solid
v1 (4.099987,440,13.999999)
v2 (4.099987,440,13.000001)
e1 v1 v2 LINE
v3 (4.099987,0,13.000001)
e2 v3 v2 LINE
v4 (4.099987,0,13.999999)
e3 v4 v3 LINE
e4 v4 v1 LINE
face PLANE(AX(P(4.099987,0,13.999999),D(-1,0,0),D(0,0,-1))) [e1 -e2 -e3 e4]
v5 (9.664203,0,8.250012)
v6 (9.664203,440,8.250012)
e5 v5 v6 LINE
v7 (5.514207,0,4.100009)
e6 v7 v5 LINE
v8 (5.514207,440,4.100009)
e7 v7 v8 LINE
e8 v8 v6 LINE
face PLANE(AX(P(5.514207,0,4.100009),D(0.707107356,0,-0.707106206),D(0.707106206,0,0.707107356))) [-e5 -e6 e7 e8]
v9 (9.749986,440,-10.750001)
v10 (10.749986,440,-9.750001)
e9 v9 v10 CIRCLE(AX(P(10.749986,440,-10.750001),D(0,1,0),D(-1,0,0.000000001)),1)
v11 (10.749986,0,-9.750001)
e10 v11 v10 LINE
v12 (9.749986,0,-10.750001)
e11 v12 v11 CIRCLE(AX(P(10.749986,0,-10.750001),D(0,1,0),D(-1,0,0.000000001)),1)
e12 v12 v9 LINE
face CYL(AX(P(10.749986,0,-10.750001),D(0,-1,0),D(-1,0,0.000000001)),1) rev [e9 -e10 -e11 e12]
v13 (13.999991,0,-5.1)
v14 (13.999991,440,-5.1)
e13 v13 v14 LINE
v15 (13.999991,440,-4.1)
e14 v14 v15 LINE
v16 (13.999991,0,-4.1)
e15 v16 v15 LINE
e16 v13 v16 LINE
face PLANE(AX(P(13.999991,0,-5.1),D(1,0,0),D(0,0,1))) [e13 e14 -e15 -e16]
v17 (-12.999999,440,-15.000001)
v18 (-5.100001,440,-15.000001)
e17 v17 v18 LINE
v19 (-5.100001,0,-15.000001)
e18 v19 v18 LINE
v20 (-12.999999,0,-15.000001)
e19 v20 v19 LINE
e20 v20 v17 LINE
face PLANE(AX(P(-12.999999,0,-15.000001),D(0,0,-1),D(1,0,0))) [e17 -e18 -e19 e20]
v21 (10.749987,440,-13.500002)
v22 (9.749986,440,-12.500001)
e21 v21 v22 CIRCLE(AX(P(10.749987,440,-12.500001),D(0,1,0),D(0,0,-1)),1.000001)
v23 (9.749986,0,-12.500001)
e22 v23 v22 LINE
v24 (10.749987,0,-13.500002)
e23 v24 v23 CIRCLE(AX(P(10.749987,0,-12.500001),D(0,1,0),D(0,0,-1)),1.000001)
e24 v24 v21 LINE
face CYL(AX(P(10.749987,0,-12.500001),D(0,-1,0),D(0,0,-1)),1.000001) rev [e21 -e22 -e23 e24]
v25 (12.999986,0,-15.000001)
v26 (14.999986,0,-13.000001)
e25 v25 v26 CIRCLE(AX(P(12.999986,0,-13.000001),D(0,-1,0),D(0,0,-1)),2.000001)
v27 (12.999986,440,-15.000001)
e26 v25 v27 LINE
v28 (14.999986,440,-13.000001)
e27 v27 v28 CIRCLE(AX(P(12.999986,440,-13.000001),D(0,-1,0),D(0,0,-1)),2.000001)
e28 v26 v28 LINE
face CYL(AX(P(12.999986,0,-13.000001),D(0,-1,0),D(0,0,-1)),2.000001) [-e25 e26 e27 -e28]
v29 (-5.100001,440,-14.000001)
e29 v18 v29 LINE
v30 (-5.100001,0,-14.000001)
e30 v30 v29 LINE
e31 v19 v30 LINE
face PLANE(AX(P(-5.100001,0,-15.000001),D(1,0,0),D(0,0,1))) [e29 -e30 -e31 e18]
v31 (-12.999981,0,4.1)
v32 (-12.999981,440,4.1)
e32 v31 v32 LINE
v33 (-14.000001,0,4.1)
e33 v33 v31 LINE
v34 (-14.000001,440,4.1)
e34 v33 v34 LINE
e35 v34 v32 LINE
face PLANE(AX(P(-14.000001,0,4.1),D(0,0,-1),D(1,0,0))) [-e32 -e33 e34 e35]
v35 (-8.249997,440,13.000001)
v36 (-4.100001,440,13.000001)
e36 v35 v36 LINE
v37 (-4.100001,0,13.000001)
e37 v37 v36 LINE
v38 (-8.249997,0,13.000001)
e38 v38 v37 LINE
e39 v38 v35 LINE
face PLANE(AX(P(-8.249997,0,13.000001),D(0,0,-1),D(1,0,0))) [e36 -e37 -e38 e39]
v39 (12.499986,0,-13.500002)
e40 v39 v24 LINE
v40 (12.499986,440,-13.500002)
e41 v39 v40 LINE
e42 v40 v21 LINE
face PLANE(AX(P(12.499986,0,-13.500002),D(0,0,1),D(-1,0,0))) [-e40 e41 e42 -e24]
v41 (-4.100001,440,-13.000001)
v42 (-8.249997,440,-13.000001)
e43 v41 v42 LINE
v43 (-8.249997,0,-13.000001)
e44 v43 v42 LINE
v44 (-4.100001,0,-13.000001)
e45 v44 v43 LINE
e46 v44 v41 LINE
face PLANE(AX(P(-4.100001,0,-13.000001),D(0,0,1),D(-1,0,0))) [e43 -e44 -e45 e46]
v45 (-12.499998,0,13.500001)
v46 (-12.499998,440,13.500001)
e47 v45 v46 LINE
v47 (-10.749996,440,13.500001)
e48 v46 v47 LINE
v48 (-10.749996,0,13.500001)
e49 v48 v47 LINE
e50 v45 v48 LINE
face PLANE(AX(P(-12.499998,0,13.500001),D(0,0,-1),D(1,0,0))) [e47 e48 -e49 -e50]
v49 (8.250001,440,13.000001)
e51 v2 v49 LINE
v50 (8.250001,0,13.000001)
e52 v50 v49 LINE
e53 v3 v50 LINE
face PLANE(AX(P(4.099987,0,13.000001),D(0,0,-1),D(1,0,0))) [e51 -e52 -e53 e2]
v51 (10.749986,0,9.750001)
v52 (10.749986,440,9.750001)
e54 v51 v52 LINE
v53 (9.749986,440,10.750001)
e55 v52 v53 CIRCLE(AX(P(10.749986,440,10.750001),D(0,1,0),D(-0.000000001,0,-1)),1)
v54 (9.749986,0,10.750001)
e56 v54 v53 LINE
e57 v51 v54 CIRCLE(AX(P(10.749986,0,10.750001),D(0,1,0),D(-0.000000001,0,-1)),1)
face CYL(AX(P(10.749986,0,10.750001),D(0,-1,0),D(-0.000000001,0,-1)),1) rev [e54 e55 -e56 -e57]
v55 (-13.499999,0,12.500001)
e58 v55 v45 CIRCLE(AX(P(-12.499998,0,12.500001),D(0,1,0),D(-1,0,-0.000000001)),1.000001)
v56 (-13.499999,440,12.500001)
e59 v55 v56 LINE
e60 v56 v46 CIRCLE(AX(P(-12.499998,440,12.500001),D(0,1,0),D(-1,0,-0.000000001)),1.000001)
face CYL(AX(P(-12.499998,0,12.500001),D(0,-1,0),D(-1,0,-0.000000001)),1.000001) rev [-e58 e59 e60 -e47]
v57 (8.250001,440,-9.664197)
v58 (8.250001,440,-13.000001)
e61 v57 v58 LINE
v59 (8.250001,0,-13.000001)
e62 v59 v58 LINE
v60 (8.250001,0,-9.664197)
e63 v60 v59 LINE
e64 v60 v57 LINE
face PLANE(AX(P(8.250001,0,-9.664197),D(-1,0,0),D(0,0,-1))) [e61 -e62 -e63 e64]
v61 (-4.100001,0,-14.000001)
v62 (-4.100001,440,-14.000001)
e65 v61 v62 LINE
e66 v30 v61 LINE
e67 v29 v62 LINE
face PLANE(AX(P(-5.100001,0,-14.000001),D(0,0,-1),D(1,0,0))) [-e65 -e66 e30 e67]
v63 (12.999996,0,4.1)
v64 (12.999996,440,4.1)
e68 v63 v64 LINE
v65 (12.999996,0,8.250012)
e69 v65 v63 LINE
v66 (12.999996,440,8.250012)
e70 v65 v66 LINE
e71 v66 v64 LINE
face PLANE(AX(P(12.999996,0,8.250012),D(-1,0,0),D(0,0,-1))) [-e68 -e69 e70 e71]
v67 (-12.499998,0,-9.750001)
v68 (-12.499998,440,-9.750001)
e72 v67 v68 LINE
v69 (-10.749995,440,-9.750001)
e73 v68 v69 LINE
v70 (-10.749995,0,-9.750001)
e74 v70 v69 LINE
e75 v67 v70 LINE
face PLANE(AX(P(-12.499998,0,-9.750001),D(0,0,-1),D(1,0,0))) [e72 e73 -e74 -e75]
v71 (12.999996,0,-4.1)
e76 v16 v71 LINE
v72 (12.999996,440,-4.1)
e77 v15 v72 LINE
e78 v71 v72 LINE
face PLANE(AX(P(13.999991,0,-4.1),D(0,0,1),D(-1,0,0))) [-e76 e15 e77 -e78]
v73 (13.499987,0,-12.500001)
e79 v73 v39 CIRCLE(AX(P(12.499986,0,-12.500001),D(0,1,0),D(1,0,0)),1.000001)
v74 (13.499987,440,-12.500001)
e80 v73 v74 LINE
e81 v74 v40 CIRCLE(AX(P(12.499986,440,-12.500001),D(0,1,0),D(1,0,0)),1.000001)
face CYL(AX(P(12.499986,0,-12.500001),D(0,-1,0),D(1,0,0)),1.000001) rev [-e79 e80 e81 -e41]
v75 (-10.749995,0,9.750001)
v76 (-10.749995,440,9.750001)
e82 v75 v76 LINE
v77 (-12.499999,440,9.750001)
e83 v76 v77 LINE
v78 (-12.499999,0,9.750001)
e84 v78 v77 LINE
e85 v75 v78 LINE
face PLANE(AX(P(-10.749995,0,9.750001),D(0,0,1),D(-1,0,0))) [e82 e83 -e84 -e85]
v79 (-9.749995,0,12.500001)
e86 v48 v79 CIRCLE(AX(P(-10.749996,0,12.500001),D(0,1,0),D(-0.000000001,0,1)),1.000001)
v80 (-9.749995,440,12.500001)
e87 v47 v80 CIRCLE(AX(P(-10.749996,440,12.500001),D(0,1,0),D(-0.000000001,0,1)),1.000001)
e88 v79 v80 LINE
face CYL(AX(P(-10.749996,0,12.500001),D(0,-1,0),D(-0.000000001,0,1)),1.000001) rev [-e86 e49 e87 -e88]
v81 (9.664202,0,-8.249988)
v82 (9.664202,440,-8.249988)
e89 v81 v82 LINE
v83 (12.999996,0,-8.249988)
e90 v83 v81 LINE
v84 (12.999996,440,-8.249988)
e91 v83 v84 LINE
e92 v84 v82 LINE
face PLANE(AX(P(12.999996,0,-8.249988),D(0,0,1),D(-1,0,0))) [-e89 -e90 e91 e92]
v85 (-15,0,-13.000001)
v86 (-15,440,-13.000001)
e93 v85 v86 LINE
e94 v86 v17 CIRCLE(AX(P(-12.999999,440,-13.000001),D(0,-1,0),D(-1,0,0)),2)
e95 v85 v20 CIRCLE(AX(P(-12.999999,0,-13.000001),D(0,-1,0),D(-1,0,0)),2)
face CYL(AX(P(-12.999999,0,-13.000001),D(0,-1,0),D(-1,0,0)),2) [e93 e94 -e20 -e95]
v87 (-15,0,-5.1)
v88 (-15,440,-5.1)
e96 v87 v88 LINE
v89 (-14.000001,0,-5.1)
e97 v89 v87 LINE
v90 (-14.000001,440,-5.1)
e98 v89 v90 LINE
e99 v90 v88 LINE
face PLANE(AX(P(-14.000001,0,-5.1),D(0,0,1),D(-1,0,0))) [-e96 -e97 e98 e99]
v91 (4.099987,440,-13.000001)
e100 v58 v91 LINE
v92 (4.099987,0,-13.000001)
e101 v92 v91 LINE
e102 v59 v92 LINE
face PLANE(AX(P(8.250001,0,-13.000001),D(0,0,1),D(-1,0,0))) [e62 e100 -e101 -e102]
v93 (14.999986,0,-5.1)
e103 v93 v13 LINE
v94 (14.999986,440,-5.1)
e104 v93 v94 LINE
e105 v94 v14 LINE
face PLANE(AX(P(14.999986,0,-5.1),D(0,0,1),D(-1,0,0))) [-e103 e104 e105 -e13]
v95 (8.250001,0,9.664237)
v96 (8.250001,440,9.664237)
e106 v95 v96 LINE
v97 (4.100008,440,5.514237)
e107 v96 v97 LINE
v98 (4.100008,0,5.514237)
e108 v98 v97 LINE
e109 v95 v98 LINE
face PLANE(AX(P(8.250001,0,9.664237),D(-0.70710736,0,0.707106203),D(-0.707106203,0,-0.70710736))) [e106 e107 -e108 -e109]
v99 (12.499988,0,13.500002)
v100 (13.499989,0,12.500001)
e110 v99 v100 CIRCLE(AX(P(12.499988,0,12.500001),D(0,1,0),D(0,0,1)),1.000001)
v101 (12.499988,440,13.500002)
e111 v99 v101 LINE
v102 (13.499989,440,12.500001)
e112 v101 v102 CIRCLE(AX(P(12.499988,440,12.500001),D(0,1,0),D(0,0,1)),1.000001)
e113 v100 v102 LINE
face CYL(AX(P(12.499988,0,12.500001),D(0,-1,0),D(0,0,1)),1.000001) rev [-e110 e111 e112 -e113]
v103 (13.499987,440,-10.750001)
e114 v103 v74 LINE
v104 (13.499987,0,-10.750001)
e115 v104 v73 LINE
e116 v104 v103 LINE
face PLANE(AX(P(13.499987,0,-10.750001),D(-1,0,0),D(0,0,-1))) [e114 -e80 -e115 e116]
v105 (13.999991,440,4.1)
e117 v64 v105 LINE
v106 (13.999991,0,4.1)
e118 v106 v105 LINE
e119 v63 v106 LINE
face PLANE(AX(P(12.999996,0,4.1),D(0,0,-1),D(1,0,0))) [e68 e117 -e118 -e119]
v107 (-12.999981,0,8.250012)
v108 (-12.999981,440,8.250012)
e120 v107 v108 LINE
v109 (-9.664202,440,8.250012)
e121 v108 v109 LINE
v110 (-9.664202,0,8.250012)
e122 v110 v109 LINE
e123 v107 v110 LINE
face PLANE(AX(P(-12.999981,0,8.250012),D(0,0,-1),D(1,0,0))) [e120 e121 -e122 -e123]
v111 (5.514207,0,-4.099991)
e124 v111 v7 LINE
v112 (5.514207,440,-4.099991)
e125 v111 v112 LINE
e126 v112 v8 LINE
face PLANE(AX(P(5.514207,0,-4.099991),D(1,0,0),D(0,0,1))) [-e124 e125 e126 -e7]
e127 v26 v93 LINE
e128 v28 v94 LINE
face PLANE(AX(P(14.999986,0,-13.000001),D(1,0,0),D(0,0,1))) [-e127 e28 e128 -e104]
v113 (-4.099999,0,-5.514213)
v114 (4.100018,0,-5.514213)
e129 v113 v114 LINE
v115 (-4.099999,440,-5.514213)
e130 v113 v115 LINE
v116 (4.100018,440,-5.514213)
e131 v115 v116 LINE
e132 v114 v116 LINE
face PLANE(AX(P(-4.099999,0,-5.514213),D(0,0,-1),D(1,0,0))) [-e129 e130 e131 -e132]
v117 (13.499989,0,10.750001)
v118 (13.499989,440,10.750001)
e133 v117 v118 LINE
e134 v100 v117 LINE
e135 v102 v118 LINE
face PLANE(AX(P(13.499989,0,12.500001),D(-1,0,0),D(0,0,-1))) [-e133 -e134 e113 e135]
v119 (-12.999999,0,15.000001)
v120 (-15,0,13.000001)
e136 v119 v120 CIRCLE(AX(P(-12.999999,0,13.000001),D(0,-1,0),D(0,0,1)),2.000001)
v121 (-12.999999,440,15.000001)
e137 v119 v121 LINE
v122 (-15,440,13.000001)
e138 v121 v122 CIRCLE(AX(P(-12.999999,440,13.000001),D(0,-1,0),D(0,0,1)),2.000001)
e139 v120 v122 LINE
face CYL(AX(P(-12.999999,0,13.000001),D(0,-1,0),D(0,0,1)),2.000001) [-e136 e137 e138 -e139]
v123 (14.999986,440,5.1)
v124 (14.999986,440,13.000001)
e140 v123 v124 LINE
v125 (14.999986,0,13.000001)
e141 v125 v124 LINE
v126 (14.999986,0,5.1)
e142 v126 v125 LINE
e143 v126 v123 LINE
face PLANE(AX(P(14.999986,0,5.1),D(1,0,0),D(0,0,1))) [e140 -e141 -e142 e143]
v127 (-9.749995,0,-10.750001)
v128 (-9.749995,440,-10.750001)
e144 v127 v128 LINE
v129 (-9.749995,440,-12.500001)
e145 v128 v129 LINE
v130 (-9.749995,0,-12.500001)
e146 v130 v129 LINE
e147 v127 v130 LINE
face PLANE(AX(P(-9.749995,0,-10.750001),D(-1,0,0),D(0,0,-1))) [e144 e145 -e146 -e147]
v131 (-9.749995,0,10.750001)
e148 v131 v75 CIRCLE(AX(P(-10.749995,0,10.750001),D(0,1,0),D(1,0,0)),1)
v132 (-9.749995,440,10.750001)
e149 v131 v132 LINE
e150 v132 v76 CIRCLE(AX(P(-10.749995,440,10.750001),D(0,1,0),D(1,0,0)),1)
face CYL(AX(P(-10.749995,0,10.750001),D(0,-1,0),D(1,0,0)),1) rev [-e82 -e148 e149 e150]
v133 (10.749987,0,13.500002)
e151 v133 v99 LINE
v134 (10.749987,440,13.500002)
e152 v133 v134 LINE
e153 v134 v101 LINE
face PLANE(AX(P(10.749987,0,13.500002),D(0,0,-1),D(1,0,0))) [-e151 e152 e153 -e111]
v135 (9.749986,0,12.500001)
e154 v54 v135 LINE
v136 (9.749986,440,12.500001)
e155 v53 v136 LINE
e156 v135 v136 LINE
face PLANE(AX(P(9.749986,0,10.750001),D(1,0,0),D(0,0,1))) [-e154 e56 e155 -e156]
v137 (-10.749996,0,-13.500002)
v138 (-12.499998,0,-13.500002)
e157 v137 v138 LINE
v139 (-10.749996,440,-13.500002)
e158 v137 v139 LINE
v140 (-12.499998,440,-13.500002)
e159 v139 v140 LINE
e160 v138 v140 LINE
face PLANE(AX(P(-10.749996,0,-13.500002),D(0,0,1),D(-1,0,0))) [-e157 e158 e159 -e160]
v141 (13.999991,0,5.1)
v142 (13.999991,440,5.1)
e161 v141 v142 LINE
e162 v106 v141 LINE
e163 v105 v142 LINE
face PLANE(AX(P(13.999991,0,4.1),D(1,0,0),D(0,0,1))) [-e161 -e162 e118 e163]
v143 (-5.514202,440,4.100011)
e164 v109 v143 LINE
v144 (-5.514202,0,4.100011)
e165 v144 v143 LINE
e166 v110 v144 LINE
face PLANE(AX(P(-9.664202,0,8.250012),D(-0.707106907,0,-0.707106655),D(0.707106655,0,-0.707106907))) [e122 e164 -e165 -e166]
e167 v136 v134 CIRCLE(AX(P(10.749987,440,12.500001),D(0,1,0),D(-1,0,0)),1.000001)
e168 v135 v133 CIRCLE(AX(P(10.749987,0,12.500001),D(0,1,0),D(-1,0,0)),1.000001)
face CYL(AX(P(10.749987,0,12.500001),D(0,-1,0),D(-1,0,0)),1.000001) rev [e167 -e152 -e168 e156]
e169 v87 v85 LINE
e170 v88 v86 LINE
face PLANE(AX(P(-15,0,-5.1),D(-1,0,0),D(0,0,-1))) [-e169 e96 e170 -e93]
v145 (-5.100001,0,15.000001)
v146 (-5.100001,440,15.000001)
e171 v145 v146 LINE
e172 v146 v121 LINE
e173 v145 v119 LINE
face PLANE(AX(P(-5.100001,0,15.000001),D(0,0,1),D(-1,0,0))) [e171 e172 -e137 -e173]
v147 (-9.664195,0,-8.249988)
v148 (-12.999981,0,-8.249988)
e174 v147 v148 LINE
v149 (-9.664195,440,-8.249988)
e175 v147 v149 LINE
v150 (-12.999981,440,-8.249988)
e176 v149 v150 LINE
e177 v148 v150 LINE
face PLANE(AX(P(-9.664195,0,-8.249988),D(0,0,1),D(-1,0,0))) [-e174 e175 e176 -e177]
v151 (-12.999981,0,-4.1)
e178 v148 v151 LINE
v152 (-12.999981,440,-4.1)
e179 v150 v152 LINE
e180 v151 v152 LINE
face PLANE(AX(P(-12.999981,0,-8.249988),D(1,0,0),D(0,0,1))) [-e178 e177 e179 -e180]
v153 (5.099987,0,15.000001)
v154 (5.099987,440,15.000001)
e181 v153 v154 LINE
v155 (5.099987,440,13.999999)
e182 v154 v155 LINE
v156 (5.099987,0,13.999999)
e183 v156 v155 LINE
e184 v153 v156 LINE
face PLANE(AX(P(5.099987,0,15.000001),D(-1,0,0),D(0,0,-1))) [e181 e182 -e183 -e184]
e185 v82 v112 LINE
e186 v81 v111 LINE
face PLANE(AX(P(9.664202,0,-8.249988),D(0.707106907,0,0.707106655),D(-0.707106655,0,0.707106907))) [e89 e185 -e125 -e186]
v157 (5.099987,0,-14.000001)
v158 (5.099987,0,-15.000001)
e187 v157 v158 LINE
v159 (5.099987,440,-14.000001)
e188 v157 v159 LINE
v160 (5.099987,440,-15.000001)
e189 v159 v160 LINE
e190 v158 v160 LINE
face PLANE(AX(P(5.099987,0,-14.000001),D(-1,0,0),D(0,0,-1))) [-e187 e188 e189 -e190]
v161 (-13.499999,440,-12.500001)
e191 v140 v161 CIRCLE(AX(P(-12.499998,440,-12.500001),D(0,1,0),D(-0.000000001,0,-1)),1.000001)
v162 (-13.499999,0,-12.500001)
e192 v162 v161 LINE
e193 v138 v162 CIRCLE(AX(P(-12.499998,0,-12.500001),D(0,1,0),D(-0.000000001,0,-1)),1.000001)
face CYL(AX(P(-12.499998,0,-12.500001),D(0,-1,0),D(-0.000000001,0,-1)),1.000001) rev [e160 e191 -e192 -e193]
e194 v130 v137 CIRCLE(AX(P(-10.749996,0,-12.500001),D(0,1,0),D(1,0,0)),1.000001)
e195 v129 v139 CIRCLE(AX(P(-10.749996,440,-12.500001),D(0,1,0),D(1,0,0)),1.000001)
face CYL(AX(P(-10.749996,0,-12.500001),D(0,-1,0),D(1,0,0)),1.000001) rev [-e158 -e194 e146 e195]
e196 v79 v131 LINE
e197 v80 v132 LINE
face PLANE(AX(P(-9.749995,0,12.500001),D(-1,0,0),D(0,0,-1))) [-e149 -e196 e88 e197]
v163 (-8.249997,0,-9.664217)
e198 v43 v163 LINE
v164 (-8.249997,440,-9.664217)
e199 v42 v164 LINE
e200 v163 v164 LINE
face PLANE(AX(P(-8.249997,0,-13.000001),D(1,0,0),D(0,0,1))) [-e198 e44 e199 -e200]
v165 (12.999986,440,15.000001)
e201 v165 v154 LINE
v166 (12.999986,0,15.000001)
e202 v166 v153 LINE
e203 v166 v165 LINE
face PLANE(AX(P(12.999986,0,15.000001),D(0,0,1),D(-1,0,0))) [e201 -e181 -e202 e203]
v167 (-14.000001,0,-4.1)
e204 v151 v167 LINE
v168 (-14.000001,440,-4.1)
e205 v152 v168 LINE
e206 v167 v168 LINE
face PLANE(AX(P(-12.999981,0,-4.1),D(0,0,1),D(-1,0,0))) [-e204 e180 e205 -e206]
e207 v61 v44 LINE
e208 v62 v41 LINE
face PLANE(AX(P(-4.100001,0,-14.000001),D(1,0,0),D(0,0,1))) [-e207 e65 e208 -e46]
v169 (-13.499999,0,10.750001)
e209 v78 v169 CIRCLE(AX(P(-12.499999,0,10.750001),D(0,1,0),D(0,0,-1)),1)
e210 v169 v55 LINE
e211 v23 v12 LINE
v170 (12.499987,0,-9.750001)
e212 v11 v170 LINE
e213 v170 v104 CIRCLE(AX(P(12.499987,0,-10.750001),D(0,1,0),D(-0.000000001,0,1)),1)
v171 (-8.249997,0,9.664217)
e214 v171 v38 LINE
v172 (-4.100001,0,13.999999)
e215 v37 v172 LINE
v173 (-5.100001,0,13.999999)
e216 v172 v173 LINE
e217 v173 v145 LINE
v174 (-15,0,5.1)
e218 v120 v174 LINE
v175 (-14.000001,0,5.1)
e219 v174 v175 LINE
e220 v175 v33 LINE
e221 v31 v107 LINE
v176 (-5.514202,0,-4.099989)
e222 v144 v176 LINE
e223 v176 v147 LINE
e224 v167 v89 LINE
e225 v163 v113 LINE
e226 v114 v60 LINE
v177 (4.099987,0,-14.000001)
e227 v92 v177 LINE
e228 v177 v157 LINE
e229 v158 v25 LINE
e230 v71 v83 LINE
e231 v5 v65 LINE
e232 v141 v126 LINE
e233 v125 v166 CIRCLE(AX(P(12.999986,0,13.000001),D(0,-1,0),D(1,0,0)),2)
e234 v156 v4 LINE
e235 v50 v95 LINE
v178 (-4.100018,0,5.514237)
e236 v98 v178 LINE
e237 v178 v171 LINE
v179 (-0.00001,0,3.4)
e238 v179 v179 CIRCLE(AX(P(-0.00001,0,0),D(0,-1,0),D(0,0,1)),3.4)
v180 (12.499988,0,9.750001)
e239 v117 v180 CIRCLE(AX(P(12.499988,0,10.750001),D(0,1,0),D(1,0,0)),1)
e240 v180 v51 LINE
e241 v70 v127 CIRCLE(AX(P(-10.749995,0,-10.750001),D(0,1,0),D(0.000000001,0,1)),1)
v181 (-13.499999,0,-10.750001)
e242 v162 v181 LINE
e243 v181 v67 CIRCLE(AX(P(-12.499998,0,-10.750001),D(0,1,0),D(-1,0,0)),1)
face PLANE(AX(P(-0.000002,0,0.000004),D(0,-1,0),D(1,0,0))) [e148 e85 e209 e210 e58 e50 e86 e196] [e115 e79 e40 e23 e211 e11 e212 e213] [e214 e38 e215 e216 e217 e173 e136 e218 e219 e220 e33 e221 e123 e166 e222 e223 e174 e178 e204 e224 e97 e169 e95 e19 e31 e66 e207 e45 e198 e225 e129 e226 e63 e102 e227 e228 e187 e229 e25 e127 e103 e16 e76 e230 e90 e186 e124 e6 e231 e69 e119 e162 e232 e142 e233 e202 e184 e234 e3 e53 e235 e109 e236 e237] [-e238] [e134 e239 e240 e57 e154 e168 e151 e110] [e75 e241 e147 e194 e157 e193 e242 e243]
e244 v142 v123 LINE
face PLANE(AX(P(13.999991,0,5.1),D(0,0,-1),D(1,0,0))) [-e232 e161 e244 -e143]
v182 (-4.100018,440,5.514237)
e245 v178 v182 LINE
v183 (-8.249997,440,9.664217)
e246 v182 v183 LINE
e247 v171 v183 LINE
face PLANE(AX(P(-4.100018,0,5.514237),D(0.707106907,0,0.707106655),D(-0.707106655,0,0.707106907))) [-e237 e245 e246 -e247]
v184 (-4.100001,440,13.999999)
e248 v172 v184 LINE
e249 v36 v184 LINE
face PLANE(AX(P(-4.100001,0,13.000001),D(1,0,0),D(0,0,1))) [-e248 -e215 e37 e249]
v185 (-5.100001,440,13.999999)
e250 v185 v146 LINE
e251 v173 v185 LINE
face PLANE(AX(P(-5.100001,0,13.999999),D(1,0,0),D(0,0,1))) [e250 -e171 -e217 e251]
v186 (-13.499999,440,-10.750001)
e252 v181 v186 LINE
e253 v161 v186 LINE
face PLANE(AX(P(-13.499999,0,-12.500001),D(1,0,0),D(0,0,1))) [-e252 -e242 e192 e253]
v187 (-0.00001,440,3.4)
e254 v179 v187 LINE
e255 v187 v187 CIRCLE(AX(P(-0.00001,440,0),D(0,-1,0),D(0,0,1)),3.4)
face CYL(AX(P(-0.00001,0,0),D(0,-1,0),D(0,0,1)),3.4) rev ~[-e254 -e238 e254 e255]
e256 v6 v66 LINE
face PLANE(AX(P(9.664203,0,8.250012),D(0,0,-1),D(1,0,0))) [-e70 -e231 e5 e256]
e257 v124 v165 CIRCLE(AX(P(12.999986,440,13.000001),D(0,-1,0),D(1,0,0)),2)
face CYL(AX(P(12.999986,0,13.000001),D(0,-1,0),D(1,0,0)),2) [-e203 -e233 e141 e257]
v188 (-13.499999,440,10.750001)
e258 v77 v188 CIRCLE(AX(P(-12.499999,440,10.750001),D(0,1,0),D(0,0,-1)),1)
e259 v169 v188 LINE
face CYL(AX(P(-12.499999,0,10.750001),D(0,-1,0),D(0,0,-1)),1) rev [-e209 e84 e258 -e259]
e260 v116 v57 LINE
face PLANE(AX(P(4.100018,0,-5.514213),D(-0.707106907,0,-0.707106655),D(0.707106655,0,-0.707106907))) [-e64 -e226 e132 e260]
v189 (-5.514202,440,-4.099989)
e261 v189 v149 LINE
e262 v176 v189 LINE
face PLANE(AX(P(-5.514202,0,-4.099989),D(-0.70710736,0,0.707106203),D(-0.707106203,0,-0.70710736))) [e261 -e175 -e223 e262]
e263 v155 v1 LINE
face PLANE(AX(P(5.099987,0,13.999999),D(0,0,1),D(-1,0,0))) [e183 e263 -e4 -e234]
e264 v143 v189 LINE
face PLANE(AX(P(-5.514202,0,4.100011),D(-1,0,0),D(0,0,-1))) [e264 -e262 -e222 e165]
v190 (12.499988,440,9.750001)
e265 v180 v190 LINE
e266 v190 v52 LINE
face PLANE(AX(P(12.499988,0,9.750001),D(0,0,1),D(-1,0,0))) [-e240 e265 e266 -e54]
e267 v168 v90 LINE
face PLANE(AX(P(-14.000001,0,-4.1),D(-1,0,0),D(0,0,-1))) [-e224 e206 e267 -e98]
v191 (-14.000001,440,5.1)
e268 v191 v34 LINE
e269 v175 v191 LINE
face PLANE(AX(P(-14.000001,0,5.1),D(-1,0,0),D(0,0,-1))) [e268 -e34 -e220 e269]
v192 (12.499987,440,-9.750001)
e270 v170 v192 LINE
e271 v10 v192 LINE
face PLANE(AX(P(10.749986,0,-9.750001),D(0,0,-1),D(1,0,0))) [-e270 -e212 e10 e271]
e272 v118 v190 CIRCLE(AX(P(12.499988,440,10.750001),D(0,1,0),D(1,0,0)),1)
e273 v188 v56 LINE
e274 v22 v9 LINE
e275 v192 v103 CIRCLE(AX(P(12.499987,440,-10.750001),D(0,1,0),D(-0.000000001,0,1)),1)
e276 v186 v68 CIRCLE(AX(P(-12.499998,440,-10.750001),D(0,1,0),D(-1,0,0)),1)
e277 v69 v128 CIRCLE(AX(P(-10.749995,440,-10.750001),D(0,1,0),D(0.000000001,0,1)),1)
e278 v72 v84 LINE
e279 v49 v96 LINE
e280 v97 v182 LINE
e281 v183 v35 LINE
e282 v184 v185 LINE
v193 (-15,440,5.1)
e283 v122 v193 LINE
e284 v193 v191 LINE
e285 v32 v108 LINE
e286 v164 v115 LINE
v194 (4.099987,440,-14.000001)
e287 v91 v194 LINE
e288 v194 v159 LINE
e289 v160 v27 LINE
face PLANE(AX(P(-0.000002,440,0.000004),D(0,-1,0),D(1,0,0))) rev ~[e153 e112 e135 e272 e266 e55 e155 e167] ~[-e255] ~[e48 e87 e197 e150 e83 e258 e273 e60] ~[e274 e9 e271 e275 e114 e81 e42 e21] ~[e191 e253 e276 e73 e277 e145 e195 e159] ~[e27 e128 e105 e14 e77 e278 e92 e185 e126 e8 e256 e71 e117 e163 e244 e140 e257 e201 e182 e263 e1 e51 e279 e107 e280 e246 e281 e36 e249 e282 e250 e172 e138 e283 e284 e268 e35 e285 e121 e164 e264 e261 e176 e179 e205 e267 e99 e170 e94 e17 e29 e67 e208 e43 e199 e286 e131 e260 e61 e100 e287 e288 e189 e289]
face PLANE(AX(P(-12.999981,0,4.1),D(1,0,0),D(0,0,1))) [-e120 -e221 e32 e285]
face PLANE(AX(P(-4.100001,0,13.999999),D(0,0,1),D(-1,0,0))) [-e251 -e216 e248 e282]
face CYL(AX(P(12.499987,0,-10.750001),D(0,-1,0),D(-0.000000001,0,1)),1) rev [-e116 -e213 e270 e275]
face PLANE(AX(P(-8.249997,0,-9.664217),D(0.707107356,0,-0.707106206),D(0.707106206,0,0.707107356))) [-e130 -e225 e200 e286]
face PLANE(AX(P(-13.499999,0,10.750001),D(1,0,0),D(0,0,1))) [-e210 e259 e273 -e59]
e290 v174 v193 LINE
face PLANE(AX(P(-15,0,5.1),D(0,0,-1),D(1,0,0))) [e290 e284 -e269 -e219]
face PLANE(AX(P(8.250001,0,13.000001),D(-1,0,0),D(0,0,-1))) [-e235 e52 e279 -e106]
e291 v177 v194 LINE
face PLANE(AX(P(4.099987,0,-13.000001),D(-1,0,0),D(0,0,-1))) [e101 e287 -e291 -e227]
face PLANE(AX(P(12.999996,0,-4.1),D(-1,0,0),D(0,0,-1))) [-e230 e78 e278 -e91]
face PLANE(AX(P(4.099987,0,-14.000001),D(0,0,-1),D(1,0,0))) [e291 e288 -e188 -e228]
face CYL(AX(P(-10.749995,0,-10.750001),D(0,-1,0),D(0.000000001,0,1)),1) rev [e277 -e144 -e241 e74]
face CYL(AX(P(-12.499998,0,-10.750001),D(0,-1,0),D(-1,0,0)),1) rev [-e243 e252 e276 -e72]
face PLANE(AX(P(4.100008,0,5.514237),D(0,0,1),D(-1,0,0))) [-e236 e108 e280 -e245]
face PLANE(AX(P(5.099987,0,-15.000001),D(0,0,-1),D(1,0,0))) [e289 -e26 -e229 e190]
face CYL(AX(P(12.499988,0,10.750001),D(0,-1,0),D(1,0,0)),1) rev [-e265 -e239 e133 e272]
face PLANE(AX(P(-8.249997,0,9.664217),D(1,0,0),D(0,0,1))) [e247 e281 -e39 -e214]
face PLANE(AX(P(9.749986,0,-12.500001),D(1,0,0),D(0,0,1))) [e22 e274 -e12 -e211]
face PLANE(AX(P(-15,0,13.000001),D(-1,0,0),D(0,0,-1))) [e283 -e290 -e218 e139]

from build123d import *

# Parameters (mm, degrees)
SKETCH1_R           = 3.4
BOSS_EXTRUDE1_DEPTH = 440


with BuildPart() as part:
    # Sketch1 → Boss-Extrude1 (new body)
    with BuildSketch(Plane.XZ):
        with BuildLine():
            Line((-8.24999678, 13.000000511), (-4.100001047, 13.000000511))
            Line((-4.100001047, 13.000000511), (-4.100001047, 13.9999993))
            Line((-4.100001047, 13.9999993), (-5.100001047, 13.9999993))
            Line((-5.100001047, 13.9999993), (-5.100001047, 15.000001161))
            Line((-5.100001047, 15.000001161), (-12.9999991, 15.000001161))
            ThreePointArc((-12.9999991, 15.000001161), (-14.414213082, 14.414214549), (-14.999999693, 13.000000567))
            Line((-14.999999693, 13.000000567), (-14.999999693, 5.099999792))
            Line((-14.999999693, 5.099999792), (-14.000001367, 5.099999792))
            Line((-14.000001367, 5.099999792), (-14.000001367, 4.099999792))
            Line((-14.000001367, 4.099999792), (-12.999980958, 4.099999792))
            Line((-12.999980958, 4.099999792), (-12.999980958, 8.250012005))
            Line((-12.999980958, 8.250012005), (-9.664201657, 8.250012005))
            Line((-9.664201657, 8.250012005), (-5.514202303, 4.100011174))
            Line((-5.514202303, 4.100011174), (-5.514202303, -4.099988826))
            Line((-5.514202303, -4.099988826), (-9.664194622, -8.249987936))
            Line((-9.664194622, -8.249987936), (-12.999980958, -8.249987936))
            Line((-12.999980958, -8.249987936), (-12.999980958, -4.100000208))
            Line((-12.999980958, -4.100000208), (-14.000001367, -4.100000208))
            Line((-14.000001367, -4.100000208), (-14.000001367, -5.100000208))
            Line((-14.000001367, -5.100000208), (-14.999999693, -5.100000208))
            Line((-14.999999693, -5.100000208), (-14.999999693, -13.000000955))
            ThreePointArc((-14.999999693, -13.000000955), (-14.414213128, -14.414214825), (-12.999999257, -15.000001391))
            Line((-12.999999257, -15.000001391), (-5.100001047, -15.000001391))
            Line((-5.100001047, -15.000001391), (-5.100001047, -14.000000699))
            Line((-5.100001047, -14.000000699), (-4.100001047, -14.000000699))
            Line((-4.100001047, -14.000000699), (-4.100001047, -13.000000927))
            Line((-4.100001047, -13.000000927), (-8.24999678, -13.000000927))
            Line((-8.24999678, -13.000000927), (-8.24999678, -9.664217294))
            Line((-8.24999678, -9.664217294), (-4.09999914, -5.514212907))
            Line((-4.09999914, -5.514212907), (4.100018356, -5.514212907))
            Line((4.100018356, -5.514212907), (8.250001062, -9.66419709))
            Line((8.250001062, -9.66419709), (8.250001062, -13.000000927))
            Line((8.250001062, -13.000000927), (4.099987439, -13.000000927))
            Line((4.099987439, -13.000000927), (4.099987439, -14.000000699))
            Line((4.099987439, -14.000000699), (5.099987459, -14.000000699))
            Line((5.099987459, -14.000000699), (5.099987459, -15.000001391))
            Line((5.099987459, -15.000001391), (12.999985682, -15.000001391))
            ThreePointArc((12.999985682, -15.000001391), (14.414199699, -14.414214765), (14.999986325, -13.000000748))
            Line((14.999986325, -13.000000748), (14.999986325, -5.100000208))
            Line((14.999986325, -5.100000208), (13.999990764, -5.100000208))
            Line((13.999990764, -5.100000208), (13.999990764, -4.100000208))
            Line((13.999990764, -4.100000208), (12.999996372, -4.100000208))
            Line((12.999996372, -4.100000208), (12.999996372, -8.249987936))
            Line((12.999996372, -8.249987936), (9.664201659, -8.249987936))
            Line((9.664201659, -8.249987936), (5.514206692, -4.099991492))
            Line((5.514206692, -4.099991492), (5.514206692, 4.100008559))
            Line((5.514206692, 4.100008559), (9.66420339, 8.250012005))
            Line((9.66420339, 8.250012005), (12.999996372, 8.250012005))
            Line((12.999996372, 8.250012005), (12.999996372, 4.099999792))
            Line((12.999996372, 4.099999792), (13.999990764, 4.099999792))
            Line((13.999990764, 4.099999792), (13.999990764, 5.099999792))
            Line((13.999990764, 5.099999792), (14.999986325, 5.099999792))
            Line((14.999986325, 5.099999792), (14.999986325, 13.000001058))
            ThreePointArc((14.999986325, 13.000001058), (14.414199857, 14.414214693), (12.999986222, 15.000001161))
            Line((12.999986222, 15.000001161), (5.099987459, 15.000001161))
            Line((5.099987459, 15.000001161), (5.099987459, 13.9999993))
            Line((5.099987459, 13.9999993), (4.099987439, 13.9999993))
            Line((4.099987439, 13.9999993), (4.099987439, 13.000000511))
            Line((4.099987439, 13.000000511), (8.250001062, 13.000000511))
            Line((8.250001062, 13.000000511), (8.250001062, 9.664237062))
            Line((8.250001062, 9.664237062), (4.100007893, 5.514237102))
            Line((4.100007893, 5.514237102), (-4.100018481, 5.514237102))
            Line((-4.100018481, 5.514237102), (-8.24999678, 9.664216878))
            Line((-8.24999678, 9.664216878), (-8.24999678, 13.000000511))
        make_face()
        with Locations(Location((-1.0477e-05, -4.16e-07, 0), (0, 0, 90))):
            Circle(SKETCH1_R, mode=Mode.SUBTRACT)
        with BuildLine():
            Line((13.499986967, -10.750000579), (13.499986967, -12.500001267))
            ThreePointArc((13.499986967, -12.500001267), (13.207093572, -13.207108473), (12.499986367, -13.500001867))
            Line((12.499986367, -13.500001867), (10.749986886, -13.500001867))
            ThreePointArc((10.749986886, -13.500001867), (10.042879512, -13.207108403), (9.749986047, -12.500001028))
            Line((9.749986047, -12.500001028), (9.749986047, -10.750001028))
            ThreePointArc((9.749986047, -10.750001028), (10.042879305, -10.042894153), (10.74998618, -9.750000895))
            Line((10.74998618, -9.750000895), (12.499987283, -9.750000895))
            ThreePointArc((12.499987283, -9.750000895), (13.207093841, -10.042894021), (13.499986967, -10.750000579))
        make_face(mode=Mode.SUBTRACT)
        with BuildLine():
            Line((-10.749994869, 9.750000545), (-12.499998542, 9.750000545))
            ThreePointArc((-12.499998542, 9.750000545), (-13.207105378, 10.042893787), (-13.499998619, 10.750000623))
            Line((-13.499998619, 10.750000623), (-13.499998619, 12.500000623))
            ThreePointArc((-13.499998619, 12.500000623), (-13.207105152, 13.207108005), (-12.499997769, 13.500001473))
            Line((-12.499997769, 13.500001473), (-10.749995653, 13.500001473))
            ThreePointArc((-10.749995653, 13.500001473), (-10.04288827, 13.207108005), (-9.749994803, 12.500000623))
            Line((-9.749994803, 12.500000623), (-9.749994803, 10.750000612))
            ThreePointArc((-9.749994803, 10.750000612), (-10.042888041, 10.042893784), (-10.749994869, 9.750000545))
        make_face(mode=Mode.SUBTRACT)
        with BuildLine():
            Line((12.499988487, 9.750000545), (10.74998617, 9.750000545))
            ThreePointArc((10.74998617, 9.750000545), (10.042879302, 10.0428938), (9.749986047, 10.750000668))
            Line((9.749986047, 10.750000668), (9.749986047, 12.500000634))
            ThreePointArc((9.749986047, 12.500000634), (10.042879552, 13.207108106), (10.749987025, 13.500001611))
            Line((10.749987025, 13.500001611), (12.499987646, 13.500001611))
            ThreePointArc((12.499987646, 13.500001611), (13.207095116, 13.207108107), (13.49998862, 12.500000637))
            Line((13.49998862, 12.500000637), (13.49998862, 10.750000679))
            ThreePointArc((13.49998862, 10.750000679), (13.207095362, 10.042893803), (12.499988487, 9.750000545))
        make_face(mode=Mode.SUBTRACT)
        with BuildLine():
            Line((-10.749995791, -13.500002028), (-12.499997631, -13.500002028))
            ThreePointArc((-12.499997631, -13.500002028), (-13.207105111, -13.207108519), (-13.499998619, -12.500001039))
            Line((-13.499998619, -12.500001039), (-13.499998619, -10.750001039))
            ThreePointArc((-13.499998619, -10.750001039), (-13.207105358, -10.042894156), (-12.499998475, -9.750000895))
            Line((-12.499998475, -9.750000895), (-10.749994936, -9.750000895))
            ThreePointArc((-10.749994936, -9.750000895), (-10.042888061, -10.042894153), (-9.749994803, -10.750001028))
            Line((-9.749994803, -10.750001028), (-9.749994803, -12.500001039))
            ThreePointArc((-9.749994803, -12.500001039), (-10.042888311, -13.207108519), (-10.749995791, -13.500002028))
        make_face(mode=Mode.SUBTRACT)
    extrude(amount=-BOSS_EXTRUDE1_DEPTH)


solid = part.part
